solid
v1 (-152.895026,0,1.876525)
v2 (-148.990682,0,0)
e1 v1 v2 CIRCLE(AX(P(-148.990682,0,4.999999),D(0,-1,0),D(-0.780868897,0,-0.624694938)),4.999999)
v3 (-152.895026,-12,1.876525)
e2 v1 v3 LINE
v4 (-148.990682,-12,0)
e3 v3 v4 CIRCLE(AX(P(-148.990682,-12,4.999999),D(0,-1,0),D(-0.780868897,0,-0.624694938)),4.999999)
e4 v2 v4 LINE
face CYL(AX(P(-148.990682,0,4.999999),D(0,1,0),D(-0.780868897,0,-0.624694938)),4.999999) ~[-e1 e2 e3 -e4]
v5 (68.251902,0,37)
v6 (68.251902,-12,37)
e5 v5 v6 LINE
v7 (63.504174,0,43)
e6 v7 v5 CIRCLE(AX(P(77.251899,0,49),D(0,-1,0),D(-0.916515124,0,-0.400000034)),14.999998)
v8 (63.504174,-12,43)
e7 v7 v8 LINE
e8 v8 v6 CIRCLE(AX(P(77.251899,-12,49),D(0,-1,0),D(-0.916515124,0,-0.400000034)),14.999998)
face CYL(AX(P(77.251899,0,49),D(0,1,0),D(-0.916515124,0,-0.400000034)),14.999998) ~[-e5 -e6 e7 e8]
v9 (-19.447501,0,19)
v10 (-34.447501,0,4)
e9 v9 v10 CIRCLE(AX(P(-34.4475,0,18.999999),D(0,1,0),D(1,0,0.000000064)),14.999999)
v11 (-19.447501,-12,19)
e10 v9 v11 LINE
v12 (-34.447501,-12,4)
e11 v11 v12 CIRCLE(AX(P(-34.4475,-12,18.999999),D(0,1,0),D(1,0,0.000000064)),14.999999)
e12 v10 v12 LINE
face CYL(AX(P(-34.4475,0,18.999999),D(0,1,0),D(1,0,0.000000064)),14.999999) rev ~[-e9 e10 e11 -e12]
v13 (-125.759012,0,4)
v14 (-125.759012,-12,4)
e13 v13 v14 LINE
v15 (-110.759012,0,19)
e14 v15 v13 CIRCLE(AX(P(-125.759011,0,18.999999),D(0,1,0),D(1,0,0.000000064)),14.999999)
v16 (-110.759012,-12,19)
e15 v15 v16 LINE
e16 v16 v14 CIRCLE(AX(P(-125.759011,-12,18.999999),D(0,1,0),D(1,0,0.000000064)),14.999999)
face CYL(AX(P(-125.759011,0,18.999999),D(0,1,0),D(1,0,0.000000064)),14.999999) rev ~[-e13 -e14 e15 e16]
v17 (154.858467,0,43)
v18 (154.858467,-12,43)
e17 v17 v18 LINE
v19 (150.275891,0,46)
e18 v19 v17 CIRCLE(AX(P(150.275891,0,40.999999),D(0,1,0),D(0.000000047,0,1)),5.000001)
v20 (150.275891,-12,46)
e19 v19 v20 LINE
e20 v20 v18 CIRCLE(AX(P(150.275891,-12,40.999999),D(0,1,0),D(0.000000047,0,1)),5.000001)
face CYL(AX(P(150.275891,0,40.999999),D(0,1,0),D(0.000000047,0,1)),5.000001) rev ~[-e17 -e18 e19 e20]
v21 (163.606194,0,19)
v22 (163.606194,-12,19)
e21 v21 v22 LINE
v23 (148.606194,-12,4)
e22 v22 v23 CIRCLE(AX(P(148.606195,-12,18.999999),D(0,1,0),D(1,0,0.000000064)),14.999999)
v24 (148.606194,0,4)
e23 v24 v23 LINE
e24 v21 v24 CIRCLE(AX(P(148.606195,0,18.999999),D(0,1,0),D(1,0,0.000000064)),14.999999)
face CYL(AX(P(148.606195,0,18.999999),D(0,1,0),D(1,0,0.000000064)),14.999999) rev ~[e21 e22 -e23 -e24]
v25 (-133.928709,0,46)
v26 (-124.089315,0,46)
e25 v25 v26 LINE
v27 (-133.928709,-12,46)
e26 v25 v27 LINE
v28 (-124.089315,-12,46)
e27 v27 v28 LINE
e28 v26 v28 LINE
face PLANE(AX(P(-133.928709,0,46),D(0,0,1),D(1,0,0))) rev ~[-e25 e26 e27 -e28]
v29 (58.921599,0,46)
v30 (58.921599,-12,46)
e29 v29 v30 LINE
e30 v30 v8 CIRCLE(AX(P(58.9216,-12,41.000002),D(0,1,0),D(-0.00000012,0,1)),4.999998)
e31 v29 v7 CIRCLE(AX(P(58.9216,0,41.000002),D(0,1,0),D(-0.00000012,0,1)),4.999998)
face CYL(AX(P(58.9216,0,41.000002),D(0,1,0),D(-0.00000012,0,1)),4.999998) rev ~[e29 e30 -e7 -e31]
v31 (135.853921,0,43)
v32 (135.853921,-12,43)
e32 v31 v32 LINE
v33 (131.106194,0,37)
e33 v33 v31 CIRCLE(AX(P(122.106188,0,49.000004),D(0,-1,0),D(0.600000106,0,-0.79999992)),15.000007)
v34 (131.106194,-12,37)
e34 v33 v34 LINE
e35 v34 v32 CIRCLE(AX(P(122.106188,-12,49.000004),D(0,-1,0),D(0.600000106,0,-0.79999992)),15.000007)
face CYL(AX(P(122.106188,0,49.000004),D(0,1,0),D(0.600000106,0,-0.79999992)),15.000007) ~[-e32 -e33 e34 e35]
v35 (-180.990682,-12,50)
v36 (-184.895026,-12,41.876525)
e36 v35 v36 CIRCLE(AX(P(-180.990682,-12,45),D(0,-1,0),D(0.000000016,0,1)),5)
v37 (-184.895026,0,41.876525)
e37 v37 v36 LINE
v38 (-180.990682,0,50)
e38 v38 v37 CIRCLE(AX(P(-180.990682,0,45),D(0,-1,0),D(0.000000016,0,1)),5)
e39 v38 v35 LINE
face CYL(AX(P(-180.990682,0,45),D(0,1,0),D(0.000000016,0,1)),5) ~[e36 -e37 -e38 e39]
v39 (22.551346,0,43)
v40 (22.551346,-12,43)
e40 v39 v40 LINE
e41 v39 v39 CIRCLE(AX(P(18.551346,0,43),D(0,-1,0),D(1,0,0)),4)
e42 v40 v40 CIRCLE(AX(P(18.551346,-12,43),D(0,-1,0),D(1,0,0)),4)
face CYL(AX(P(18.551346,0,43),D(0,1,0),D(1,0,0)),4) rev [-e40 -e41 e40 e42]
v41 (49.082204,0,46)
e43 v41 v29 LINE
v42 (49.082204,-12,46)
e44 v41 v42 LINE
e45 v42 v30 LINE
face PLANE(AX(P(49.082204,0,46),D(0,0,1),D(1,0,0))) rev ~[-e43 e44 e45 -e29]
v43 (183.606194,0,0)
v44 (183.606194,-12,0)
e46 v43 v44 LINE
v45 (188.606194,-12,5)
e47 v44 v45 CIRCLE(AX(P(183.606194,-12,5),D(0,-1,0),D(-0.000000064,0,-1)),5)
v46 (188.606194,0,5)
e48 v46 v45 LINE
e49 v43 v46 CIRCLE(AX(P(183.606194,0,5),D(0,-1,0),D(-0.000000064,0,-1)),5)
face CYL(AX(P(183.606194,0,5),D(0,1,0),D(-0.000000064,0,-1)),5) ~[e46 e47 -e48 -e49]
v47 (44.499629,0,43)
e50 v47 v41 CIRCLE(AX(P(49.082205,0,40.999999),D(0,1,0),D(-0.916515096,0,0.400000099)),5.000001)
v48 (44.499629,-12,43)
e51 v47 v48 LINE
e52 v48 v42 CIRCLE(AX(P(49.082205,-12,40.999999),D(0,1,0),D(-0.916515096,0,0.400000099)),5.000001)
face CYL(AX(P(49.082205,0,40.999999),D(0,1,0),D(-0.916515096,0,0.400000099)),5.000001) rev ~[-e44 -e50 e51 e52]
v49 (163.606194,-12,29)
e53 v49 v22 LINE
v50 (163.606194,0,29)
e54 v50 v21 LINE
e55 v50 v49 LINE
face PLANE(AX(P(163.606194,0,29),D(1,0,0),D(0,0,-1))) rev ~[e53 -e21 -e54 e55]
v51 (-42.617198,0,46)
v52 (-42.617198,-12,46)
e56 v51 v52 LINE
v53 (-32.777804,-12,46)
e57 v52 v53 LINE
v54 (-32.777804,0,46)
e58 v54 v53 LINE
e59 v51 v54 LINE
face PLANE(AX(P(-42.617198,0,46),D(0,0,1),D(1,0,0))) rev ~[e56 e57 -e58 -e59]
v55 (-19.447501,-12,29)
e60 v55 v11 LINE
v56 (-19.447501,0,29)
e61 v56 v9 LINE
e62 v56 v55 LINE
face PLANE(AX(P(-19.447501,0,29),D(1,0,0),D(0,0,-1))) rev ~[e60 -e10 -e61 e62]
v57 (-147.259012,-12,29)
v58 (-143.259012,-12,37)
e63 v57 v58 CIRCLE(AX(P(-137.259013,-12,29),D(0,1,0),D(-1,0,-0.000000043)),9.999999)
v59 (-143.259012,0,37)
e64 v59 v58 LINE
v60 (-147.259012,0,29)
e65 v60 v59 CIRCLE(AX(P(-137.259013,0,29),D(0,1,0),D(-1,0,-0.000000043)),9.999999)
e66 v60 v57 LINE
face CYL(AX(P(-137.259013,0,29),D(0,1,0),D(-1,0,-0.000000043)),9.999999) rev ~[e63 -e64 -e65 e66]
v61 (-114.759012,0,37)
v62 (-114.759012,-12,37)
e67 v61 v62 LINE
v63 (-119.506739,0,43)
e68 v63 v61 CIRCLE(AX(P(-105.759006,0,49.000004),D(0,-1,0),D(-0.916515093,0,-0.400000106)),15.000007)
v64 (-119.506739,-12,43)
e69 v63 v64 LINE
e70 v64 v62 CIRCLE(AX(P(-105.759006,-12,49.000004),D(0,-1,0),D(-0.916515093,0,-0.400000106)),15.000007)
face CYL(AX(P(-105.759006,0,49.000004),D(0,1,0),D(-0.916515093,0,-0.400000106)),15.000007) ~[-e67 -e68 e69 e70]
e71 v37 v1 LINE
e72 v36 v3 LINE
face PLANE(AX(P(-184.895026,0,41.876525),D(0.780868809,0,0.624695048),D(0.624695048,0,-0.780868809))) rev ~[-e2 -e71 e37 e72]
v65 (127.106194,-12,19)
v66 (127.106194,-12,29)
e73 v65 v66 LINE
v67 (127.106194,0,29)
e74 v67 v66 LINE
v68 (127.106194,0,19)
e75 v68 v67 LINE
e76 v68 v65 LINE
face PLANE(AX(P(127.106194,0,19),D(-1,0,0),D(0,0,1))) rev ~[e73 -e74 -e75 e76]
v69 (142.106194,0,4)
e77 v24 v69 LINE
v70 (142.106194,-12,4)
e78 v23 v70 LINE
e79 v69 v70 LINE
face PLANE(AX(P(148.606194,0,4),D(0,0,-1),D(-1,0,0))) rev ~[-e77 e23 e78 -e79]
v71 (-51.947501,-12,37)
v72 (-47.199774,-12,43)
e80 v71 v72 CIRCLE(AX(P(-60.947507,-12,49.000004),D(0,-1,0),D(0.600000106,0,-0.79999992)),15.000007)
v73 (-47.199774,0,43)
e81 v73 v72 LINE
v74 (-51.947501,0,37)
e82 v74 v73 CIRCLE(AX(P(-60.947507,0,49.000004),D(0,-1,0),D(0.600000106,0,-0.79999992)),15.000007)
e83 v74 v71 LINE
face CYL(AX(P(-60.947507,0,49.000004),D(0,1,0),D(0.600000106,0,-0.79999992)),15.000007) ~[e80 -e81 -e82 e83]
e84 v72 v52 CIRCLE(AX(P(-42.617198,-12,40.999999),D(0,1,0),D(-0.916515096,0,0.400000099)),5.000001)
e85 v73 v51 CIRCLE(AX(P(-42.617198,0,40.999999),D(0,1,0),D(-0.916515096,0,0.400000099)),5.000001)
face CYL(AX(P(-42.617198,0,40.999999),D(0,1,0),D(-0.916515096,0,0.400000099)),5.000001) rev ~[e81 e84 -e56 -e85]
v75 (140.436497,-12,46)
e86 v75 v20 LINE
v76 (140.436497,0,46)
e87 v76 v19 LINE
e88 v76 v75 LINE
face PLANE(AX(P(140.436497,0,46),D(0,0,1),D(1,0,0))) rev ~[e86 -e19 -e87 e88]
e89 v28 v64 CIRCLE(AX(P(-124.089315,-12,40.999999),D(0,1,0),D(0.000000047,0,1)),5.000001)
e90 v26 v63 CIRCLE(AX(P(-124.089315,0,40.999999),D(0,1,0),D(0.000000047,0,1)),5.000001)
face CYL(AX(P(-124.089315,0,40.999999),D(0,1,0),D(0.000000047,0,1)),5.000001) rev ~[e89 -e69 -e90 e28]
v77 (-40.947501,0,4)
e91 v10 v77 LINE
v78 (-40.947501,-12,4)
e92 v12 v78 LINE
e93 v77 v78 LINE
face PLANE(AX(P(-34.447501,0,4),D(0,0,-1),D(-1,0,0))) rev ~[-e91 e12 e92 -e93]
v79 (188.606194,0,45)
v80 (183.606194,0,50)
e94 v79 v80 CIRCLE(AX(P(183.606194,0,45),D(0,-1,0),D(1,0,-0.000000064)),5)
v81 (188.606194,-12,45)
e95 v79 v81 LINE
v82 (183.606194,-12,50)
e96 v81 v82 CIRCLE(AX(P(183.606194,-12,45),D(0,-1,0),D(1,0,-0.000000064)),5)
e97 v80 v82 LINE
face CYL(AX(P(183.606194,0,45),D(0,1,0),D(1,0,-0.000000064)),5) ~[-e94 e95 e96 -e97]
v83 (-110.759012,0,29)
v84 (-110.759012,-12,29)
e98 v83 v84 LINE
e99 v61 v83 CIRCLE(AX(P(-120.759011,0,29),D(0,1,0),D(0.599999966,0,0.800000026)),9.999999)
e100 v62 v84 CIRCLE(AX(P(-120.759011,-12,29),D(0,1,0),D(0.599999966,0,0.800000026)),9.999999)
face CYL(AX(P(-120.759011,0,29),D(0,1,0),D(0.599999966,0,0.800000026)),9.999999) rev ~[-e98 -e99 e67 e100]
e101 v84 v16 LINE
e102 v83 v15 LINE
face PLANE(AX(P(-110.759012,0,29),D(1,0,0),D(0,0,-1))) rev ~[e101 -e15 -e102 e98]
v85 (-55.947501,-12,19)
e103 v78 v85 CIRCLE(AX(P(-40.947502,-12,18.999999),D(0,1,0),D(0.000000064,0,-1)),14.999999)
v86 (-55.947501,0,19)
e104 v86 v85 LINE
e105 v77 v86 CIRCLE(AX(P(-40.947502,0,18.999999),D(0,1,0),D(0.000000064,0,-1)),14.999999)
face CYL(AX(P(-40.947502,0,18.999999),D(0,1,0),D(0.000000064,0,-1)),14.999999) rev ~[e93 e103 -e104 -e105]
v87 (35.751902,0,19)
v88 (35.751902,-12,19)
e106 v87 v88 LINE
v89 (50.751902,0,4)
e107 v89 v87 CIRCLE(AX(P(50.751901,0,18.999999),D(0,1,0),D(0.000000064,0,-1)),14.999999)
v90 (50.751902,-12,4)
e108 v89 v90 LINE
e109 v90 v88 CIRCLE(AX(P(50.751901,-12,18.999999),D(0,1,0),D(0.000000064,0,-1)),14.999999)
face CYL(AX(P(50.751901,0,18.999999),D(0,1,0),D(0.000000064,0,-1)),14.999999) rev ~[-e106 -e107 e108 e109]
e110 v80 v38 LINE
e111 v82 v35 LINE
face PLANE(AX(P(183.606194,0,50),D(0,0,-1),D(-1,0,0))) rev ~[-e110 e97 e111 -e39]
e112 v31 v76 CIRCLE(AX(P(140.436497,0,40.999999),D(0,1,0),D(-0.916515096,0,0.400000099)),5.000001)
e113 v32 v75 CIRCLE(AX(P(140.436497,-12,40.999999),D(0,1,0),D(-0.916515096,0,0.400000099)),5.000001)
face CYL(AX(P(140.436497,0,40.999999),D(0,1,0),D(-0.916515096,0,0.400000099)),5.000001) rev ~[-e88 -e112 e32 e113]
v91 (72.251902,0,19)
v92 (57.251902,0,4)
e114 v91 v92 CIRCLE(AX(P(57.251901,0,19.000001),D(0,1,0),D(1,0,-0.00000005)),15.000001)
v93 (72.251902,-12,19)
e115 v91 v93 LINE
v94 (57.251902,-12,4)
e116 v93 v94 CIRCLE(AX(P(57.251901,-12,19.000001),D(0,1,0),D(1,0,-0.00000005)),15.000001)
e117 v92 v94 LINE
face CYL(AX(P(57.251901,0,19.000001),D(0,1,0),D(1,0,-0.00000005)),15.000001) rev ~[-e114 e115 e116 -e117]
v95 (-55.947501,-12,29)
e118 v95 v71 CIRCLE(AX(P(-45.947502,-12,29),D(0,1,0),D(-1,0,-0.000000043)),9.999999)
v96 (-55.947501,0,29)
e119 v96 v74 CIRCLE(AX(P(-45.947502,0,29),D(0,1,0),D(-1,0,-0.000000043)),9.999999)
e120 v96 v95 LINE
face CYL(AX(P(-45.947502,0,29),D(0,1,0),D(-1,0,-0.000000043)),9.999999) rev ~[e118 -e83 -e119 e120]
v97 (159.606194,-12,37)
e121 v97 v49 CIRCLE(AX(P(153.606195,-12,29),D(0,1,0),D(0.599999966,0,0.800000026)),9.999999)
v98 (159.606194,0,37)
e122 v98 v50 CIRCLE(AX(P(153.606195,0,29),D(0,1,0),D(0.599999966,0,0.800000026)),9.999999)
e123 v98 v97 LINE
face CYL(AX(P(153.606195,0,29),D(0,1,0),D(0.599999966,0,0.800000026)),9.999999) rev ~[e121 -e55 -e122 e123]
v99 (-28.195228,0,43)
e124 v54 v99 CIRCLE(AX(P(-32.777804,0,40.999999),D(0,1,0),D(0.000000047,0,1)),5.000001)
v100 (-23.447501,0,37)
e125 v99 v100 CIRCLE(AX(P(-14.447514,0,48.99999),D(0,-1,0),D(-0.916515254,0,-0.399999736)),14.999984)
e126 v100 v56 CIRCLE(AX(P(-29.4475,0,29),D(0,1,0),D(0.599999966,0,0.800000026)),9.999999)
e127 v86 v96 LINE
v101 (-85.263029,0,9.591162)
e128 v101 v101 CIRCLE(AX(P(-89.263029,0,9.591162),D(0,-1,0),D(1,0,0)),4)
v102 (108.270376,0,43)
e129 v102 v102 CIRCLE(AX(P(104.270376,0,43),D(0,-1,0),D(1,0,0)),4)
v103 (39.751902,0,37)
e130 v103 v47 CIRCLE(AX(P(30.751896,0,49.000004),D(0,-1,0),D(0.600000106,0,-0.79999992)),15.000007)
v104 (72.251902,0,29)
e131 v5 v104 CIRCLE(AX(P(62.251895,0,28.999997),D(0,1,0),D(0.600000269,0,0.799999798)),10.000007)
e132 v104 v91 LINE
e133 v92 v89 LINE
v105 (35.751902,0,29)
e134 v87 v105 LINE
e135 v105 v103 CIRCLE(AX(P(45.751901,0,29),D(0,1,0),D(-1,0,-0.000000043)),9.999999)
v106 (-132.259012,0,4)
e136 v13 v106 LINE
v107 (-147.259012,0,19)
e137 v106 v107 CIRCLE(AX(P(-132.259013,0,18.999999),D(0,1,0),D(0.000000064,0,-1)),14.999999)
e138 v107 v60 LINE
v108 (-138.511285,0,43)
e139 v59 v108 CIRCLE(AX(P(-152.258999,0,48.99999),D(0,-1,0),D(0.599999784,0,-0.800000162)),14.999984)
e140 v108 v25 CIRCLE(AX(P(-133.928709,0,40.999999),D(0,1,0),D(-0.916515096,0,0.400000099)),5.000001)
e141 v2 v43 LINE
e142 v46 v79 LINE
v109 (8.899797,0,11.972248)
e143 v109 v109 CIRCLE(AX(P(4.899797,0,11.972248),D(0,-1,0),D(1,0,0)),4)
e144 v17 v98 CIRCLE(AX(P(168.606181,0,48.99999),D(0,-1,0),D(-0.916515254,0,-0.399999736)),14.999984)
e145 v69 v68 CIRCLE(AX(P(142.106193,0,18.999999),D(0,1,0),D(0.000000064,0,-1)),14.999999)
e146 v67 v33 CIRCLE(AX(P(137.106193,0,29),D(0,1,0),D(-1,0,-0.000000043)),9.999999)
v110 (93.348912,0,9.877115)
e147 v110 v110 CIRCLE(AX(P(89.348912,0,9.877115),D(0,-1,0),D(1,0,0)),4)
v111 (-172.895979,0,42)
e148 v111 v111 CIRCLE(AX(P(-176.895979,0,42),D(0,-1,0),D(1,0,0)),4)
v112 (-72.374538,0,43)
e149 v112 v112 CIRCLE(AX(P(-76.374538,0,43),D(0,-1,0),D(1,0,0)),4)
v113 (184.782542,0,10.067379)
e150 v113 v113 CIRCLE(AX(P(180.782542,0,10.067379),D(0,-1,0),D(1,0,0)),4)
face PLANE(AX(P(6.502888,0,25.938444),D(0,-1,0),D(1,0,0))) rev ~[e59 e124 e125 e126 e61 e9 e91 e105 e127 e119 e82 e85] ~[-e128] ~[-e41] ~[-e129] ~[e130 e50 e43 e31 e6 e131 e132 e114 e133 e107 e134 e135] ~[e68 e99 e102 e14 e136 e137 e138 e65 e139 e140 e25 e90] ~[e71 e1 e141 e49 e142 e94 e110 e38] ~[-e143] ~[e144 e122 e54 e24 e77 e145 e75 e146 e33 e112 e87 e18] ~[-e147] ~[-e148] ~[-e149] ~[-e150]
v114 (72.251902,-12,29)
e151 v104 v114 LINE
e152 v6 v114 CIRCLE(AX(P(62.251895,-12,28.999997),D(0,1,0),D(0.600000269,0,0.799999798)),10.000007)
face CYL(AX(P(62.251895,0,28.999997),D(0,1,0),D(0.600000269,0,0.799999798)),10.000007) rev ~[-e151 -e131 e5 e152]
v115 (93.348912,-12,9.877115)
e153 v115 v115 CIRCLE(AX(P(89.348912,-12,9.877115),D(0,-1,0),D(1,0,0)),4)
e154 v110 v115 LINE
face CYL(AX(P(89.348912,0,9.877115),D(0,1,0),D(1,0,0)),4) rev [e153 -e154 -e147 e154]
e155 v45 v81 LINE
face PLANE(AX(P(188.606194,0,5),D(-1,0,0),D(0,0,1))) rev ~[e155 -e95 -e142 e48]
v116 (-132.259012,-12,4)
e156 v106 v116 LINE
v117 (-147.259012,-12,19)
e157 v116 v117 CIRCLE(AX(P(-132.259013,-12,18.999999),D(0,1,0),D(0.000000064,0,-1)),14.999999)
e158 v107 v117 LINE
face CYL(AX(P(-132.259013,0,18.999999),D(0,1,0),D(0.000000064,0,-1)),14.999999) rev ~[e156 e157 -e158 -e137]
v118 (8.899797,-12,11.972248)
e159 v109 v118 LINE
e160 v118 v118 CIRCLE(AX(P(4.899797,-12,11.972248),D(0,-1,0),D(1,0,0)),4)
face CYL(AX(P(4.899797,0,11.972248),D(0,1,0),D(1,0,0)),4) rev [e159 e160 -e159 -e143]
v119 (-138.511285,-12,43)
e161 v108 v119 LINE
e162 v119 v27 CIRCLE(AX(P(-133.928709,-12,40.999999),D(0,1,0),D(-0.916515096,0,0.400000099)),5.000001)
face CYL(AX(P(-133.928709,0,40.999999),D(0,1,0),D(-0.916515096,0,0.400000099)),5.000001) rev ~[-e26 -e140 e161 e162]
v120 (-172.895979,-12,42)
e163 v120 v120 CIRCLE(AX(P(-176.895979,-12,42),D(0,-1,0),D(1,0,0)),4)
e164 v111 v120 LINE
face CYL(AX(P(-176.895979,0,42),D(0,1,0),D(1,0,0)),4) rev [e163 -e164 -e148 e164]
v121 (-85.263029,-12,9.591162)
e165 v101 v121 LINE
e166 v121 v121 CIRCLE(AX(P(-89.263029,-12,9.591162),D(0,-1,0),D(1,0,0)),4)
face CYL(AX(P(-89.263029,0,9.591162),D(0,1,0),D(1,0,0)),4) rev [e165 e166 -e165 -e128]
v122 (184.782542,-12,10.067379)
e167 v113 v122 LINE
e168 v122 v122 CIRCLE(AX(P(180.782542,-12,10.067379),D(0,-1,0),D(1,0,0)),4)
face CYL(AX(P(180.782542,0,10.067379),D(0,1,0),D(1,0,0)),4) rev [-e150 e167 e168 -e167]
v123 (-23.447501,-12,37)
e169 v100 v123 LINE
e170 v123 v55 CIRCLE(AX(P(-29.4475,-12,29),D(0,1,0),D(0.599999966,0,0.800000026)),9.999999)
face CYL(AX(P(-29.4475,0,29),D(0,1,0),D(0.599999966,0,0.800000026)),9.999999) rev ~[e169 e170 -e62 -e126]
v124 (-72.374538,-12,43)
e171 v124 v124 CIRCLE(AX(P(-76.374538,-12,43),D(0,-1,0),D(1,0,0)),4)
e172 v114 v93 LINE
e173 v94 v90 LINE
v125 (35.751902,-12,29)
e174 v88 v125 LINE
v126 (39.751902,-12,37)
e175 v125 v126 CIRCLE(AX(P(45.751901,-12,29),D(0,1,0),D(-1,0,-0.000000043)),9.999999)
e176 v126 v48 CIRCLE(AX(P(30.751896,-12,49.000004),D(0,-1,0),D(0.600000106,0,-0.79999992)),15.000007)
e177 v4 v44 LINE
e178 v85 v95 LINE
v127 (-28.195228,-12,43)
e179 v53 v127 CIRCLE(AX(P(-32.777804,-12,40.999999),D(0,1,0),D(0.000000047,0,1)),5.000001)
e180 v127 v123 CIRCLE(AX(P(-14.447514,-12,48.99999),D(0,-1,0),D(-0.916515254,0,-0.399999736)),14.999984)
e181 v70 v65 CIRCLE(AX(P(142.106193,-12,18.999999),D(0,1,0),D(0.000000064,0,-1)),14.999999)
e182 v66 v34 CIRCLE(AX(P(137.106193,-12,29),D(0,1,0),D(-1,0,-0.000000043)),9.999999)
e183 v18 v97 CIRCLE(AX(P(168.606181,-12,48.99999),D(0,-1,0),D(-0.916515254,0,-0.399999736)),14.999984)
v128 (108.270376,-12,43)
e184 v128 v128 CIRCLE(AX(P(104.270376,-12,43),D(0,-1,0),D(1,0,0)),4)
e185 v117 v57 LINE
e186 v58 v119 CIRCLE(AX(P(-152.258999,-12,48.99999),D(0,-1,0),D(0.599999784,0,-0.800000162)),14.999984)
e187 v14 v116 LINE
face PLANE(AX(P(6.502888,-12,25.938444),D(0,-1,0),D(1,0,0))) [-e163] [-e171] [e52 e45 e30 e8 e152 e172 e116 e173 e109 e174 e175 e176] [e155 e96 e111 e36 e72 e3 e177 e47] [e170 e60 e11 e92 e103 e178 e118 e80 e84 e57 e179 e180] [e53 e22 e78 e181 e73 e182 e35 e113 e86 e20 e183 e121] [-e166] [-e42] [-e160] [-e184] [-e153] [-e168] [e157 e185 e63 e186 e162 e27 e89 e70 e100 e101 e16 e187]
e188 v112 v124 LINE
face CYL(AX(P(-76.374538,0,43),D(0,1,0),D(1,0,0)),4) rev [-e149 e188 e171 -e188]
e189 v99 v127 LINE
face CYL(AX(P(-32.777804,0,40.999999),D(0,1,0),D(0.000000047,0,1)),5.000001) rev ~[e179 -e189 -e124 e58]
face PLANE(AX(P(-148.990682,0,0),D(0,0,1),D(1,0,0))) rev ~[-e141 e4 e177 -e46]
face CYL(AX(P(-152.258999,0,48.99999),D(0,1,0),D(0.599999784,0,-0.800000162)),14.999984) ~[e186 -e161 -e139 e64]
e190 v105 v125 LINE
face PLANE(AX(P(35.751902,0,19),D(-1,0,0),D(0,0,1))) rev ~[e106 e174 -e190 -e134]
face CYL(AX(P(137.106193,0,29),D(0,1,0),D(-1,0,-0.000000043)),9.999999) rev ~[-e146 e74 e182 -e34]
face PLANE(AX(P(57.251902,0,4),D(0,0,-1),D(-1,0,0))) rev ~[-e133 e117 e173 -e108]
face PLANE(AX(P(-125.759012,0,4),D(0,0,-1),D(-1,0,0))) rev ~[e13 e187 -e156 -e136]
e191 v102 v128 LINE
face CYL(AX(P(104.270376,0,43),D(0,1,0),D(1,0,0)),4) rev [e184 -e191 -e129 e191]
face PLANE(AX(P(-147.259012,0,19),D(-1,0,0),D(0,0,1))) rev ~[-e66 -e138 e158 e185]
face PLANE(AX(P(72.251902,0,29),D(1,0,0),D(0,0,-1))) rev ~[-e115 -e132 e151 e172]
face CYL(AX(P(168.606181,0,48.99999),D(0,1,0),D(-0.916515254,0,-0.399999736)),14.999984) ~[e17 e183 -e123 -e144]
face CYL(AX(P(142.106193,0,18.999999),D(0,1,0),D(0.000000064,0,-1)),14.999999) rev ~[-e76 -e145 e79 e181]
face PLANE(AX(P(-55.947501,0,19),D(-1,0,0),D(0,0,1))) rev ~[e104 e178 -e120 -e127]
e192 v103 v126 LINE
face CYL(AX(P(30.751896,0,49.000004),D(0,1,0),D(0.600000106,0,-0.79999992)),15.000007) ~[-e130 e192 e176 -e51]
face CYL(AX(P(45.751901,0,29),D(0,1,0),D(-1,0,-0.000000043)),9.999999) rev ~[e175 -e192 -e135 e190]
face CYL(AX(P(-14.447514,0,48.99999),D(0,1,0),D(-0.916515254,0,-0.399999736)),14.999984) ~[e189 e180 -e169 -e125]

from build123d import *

# Parameters (mm, degrees)
F0_R     = 4
F1_DEPTH = 12


with BuildPart() as f1:
    # F0 (on Front) → F1 (new body)
    with BuildSketch(Plane.XZ):
        with BuildLine():
            Line((183.606194, 50), (-180.990682, 50))
            ThreePointArc((-180.990682, 50), (-185.497198, 47.165944), (-184.895026, 41.876525))
            Line((-184.895026, 41.876525), (-152.895026, 1.876525))
            ThreePointArc((-152.895026, 1.876525), (-151.156626, 0.493484), (-148.990682, 0))
            Line((-148.990682, 0), (183.606194, 0))
            ThreePointArc((183.606194, 0), (187.141728, 1.464466), (188.606194, 5))
            Line((188.606194, 5), (188.606194, 45))
            ThreePointArc((188.606194, 45), (187.141728, 48.535534), (183.606194, 50))
        make_face()
        with Locations((-89.263029, 9.591162)):
            Circle(F0_R, mode=Mode.SUBTRACT)
        with BuildLine():
            Line((-133.928709, 46), (-124.089315, 46))
            ThreePointArc((-124.089315, 46), (-121.350702, 45.1833), (-119.506739, 43))
            ThreePointArc((-119.506739, 43), (-117.521867, 39.692195), (-114.759012, 37))
            ThreePointArc((-114.759012, 37), (-111.81474, 33.472136), (-110.759012, 29))
            Line((-110.759012, 29), (-110.759012, 19))
            ThreePointArc((-110.759012, 19), (-115.15241, 8.393398), (-125.759012, 4))
            Line((-125.759012, 4), (-132.259012, 4))
            ThreePointArc((-132.259012, 4), (-142.865614, 8.393398), (-147.259012, 19))
            Line((-147.259012, 19), (-147.259012, 29))
            ThreePointArc((-147.259012, 29), (-146.203284, 33.472136), (-143.259012, 37))
            ThreePointArc((-143.259012, 37), (-140.496156, 39.692195), (-138.511285, 43))
            ThreePointArc((-138.511285, 43), (-136.667322, 45.1833), (-133.928709, 46))
        make_face(mode=Mode.SUBTRACT)
        with BuildLine():
            Line((-42.617198, 46), (-32.777804, 46))
            ThreePointArc((-32.777804, 46), (-30.039191, 45.1833), (-28.195228, 43))
            ThreePointArc((-28.195228, 43), (-26.210357, 39.692195), (-23.447501, 37))
            ThreePointArc((-23.447501, 37), (-20.503229, 33.472136), (-19.447501, 29))
            Line((-19.447501, 29), (-19.447501, 19))
            ThreePointArc((-19.447501, 19), (-23.840899, 8.393398), (-34.447501, 4))
            Line((-34.447501, 4), (-40.947501, 4))
            ThreePointArc((-40.947501, 4), (-51.554103, 8.393398), (-55.947501, 19))
            Line((-55.947501, 19), (-55.947501, 29))
            ThreePointArc((-55.947501, 29), (-54.891773, 33.472136), (-51.947501, 37))
            ThreePointArc((-51.947501, 37), (-49.184646, 39.692195), (-47.199774, 43))
            ThreePointArc((-47.199774, 43), (-45.355811, 45.1833), (-42.617198, 46))
        make_face(mode=Mode.SUBTRACT)
        with Locations((4.899797, 11.972248)):
            Circle(F0_R, mode=Mode.SUBTRACT)
        with Locations((89.348912, 9.877115)):
            Circle(F0_R, mode=Mode.SUBTRACT)
        with Locations((180.782542, 10.067379)):
            Circle(F0_R, mode=Mode.SUBTRACT)
        with BuildLine():
            Line((49.082204, 46), (58.921599, 46))
            ThreePointArc((58.921599, 46), (61.660212, 45.1833), (63.504174, 43))
            ThreePointArc((63.504174, 43), (65.489046, 39.692195), (68.251902, 37))
            ThreePointArc((68.251902, 37), (71.196173, 33.472136), (72.251902, 29))
            Line((72.251902, 29), (72.251902, 19))
            ThreePointArc((72.251902, 19), (67.858503, 8.393398), (57.251902, 4))
            Line((57.251902, 4), (50.751902, 4))
            ThreePointArc((50.751902, 4), (40.1453, 8.393398), (35.751902, 19))
            Line((35.751902, 19), (35.751902, 29))
            ThreePointArc((35.751902, 29), (36.80763, 33.472136), (39.751902, 37))
            ThreePointArc((39.751902, 37), (42.514757, 39.692195), (44.499629, 43))
            ThreePointArc((44.499629, 43), (46.343592, 45.1833), (49.082204, 46))
        make_face(mode=Mode.SUBTRACT)
        with Locations((-176.895979, 42)):
            Circle(F0_R, mode=Mode.SUBTRACT)
        with Locations((-76.374538, 43)):
            Circle(F0_R, mode=Mode.SUBTRACT)
        with BuildLine():
            Line((140.436497, 46), (150.275891, 46))
            ThreePointArc((150.275891, 46), (153.014504, 45.1833), (154.858467, 43))
            ThreePointArc((154.858467, 43), (156.843338, 39.692195), (159.606194, 37))
            ThreePointArc((159.606194, 37), (162.550466, 33.472136), (163.606194, 29))
            Line((163.606194, 29), (163.606194, 19))
            ThreePointArc((163.606194, 19), (159.212796, 8.393398), (148.606194, 4))
            Line((148.606194, 4), (142.106194, 4))
            ThreePointArc((142.106194, 4), (131.499592, 8.393398), (127.106194, 19))
            Line((127.106194, 19), (127.106194, 29))
            ThreePointArc((127.106194, 29), (128.161922, 33.472136), (131.106194, 37))
            ThreePointArc((131.106194, 37), (133.869049, 39.692195), (135.853921, 43))
            ThreePointArc((135.853921, 43), (137.697884, 45.1833), (140.436497, 46))
        make_face(mode=Mode.SUBTRACT)
        with Locations((18.551346, 43)):
            Circle(F0_R, mode=Mode.SUBTRACT)
        with Locations((104.270376, 43)):
            Circle(F0_R, mode=Mode.SUBTRACT)
    extrude(amount=F1_DEPTH)


solid = f1.part
